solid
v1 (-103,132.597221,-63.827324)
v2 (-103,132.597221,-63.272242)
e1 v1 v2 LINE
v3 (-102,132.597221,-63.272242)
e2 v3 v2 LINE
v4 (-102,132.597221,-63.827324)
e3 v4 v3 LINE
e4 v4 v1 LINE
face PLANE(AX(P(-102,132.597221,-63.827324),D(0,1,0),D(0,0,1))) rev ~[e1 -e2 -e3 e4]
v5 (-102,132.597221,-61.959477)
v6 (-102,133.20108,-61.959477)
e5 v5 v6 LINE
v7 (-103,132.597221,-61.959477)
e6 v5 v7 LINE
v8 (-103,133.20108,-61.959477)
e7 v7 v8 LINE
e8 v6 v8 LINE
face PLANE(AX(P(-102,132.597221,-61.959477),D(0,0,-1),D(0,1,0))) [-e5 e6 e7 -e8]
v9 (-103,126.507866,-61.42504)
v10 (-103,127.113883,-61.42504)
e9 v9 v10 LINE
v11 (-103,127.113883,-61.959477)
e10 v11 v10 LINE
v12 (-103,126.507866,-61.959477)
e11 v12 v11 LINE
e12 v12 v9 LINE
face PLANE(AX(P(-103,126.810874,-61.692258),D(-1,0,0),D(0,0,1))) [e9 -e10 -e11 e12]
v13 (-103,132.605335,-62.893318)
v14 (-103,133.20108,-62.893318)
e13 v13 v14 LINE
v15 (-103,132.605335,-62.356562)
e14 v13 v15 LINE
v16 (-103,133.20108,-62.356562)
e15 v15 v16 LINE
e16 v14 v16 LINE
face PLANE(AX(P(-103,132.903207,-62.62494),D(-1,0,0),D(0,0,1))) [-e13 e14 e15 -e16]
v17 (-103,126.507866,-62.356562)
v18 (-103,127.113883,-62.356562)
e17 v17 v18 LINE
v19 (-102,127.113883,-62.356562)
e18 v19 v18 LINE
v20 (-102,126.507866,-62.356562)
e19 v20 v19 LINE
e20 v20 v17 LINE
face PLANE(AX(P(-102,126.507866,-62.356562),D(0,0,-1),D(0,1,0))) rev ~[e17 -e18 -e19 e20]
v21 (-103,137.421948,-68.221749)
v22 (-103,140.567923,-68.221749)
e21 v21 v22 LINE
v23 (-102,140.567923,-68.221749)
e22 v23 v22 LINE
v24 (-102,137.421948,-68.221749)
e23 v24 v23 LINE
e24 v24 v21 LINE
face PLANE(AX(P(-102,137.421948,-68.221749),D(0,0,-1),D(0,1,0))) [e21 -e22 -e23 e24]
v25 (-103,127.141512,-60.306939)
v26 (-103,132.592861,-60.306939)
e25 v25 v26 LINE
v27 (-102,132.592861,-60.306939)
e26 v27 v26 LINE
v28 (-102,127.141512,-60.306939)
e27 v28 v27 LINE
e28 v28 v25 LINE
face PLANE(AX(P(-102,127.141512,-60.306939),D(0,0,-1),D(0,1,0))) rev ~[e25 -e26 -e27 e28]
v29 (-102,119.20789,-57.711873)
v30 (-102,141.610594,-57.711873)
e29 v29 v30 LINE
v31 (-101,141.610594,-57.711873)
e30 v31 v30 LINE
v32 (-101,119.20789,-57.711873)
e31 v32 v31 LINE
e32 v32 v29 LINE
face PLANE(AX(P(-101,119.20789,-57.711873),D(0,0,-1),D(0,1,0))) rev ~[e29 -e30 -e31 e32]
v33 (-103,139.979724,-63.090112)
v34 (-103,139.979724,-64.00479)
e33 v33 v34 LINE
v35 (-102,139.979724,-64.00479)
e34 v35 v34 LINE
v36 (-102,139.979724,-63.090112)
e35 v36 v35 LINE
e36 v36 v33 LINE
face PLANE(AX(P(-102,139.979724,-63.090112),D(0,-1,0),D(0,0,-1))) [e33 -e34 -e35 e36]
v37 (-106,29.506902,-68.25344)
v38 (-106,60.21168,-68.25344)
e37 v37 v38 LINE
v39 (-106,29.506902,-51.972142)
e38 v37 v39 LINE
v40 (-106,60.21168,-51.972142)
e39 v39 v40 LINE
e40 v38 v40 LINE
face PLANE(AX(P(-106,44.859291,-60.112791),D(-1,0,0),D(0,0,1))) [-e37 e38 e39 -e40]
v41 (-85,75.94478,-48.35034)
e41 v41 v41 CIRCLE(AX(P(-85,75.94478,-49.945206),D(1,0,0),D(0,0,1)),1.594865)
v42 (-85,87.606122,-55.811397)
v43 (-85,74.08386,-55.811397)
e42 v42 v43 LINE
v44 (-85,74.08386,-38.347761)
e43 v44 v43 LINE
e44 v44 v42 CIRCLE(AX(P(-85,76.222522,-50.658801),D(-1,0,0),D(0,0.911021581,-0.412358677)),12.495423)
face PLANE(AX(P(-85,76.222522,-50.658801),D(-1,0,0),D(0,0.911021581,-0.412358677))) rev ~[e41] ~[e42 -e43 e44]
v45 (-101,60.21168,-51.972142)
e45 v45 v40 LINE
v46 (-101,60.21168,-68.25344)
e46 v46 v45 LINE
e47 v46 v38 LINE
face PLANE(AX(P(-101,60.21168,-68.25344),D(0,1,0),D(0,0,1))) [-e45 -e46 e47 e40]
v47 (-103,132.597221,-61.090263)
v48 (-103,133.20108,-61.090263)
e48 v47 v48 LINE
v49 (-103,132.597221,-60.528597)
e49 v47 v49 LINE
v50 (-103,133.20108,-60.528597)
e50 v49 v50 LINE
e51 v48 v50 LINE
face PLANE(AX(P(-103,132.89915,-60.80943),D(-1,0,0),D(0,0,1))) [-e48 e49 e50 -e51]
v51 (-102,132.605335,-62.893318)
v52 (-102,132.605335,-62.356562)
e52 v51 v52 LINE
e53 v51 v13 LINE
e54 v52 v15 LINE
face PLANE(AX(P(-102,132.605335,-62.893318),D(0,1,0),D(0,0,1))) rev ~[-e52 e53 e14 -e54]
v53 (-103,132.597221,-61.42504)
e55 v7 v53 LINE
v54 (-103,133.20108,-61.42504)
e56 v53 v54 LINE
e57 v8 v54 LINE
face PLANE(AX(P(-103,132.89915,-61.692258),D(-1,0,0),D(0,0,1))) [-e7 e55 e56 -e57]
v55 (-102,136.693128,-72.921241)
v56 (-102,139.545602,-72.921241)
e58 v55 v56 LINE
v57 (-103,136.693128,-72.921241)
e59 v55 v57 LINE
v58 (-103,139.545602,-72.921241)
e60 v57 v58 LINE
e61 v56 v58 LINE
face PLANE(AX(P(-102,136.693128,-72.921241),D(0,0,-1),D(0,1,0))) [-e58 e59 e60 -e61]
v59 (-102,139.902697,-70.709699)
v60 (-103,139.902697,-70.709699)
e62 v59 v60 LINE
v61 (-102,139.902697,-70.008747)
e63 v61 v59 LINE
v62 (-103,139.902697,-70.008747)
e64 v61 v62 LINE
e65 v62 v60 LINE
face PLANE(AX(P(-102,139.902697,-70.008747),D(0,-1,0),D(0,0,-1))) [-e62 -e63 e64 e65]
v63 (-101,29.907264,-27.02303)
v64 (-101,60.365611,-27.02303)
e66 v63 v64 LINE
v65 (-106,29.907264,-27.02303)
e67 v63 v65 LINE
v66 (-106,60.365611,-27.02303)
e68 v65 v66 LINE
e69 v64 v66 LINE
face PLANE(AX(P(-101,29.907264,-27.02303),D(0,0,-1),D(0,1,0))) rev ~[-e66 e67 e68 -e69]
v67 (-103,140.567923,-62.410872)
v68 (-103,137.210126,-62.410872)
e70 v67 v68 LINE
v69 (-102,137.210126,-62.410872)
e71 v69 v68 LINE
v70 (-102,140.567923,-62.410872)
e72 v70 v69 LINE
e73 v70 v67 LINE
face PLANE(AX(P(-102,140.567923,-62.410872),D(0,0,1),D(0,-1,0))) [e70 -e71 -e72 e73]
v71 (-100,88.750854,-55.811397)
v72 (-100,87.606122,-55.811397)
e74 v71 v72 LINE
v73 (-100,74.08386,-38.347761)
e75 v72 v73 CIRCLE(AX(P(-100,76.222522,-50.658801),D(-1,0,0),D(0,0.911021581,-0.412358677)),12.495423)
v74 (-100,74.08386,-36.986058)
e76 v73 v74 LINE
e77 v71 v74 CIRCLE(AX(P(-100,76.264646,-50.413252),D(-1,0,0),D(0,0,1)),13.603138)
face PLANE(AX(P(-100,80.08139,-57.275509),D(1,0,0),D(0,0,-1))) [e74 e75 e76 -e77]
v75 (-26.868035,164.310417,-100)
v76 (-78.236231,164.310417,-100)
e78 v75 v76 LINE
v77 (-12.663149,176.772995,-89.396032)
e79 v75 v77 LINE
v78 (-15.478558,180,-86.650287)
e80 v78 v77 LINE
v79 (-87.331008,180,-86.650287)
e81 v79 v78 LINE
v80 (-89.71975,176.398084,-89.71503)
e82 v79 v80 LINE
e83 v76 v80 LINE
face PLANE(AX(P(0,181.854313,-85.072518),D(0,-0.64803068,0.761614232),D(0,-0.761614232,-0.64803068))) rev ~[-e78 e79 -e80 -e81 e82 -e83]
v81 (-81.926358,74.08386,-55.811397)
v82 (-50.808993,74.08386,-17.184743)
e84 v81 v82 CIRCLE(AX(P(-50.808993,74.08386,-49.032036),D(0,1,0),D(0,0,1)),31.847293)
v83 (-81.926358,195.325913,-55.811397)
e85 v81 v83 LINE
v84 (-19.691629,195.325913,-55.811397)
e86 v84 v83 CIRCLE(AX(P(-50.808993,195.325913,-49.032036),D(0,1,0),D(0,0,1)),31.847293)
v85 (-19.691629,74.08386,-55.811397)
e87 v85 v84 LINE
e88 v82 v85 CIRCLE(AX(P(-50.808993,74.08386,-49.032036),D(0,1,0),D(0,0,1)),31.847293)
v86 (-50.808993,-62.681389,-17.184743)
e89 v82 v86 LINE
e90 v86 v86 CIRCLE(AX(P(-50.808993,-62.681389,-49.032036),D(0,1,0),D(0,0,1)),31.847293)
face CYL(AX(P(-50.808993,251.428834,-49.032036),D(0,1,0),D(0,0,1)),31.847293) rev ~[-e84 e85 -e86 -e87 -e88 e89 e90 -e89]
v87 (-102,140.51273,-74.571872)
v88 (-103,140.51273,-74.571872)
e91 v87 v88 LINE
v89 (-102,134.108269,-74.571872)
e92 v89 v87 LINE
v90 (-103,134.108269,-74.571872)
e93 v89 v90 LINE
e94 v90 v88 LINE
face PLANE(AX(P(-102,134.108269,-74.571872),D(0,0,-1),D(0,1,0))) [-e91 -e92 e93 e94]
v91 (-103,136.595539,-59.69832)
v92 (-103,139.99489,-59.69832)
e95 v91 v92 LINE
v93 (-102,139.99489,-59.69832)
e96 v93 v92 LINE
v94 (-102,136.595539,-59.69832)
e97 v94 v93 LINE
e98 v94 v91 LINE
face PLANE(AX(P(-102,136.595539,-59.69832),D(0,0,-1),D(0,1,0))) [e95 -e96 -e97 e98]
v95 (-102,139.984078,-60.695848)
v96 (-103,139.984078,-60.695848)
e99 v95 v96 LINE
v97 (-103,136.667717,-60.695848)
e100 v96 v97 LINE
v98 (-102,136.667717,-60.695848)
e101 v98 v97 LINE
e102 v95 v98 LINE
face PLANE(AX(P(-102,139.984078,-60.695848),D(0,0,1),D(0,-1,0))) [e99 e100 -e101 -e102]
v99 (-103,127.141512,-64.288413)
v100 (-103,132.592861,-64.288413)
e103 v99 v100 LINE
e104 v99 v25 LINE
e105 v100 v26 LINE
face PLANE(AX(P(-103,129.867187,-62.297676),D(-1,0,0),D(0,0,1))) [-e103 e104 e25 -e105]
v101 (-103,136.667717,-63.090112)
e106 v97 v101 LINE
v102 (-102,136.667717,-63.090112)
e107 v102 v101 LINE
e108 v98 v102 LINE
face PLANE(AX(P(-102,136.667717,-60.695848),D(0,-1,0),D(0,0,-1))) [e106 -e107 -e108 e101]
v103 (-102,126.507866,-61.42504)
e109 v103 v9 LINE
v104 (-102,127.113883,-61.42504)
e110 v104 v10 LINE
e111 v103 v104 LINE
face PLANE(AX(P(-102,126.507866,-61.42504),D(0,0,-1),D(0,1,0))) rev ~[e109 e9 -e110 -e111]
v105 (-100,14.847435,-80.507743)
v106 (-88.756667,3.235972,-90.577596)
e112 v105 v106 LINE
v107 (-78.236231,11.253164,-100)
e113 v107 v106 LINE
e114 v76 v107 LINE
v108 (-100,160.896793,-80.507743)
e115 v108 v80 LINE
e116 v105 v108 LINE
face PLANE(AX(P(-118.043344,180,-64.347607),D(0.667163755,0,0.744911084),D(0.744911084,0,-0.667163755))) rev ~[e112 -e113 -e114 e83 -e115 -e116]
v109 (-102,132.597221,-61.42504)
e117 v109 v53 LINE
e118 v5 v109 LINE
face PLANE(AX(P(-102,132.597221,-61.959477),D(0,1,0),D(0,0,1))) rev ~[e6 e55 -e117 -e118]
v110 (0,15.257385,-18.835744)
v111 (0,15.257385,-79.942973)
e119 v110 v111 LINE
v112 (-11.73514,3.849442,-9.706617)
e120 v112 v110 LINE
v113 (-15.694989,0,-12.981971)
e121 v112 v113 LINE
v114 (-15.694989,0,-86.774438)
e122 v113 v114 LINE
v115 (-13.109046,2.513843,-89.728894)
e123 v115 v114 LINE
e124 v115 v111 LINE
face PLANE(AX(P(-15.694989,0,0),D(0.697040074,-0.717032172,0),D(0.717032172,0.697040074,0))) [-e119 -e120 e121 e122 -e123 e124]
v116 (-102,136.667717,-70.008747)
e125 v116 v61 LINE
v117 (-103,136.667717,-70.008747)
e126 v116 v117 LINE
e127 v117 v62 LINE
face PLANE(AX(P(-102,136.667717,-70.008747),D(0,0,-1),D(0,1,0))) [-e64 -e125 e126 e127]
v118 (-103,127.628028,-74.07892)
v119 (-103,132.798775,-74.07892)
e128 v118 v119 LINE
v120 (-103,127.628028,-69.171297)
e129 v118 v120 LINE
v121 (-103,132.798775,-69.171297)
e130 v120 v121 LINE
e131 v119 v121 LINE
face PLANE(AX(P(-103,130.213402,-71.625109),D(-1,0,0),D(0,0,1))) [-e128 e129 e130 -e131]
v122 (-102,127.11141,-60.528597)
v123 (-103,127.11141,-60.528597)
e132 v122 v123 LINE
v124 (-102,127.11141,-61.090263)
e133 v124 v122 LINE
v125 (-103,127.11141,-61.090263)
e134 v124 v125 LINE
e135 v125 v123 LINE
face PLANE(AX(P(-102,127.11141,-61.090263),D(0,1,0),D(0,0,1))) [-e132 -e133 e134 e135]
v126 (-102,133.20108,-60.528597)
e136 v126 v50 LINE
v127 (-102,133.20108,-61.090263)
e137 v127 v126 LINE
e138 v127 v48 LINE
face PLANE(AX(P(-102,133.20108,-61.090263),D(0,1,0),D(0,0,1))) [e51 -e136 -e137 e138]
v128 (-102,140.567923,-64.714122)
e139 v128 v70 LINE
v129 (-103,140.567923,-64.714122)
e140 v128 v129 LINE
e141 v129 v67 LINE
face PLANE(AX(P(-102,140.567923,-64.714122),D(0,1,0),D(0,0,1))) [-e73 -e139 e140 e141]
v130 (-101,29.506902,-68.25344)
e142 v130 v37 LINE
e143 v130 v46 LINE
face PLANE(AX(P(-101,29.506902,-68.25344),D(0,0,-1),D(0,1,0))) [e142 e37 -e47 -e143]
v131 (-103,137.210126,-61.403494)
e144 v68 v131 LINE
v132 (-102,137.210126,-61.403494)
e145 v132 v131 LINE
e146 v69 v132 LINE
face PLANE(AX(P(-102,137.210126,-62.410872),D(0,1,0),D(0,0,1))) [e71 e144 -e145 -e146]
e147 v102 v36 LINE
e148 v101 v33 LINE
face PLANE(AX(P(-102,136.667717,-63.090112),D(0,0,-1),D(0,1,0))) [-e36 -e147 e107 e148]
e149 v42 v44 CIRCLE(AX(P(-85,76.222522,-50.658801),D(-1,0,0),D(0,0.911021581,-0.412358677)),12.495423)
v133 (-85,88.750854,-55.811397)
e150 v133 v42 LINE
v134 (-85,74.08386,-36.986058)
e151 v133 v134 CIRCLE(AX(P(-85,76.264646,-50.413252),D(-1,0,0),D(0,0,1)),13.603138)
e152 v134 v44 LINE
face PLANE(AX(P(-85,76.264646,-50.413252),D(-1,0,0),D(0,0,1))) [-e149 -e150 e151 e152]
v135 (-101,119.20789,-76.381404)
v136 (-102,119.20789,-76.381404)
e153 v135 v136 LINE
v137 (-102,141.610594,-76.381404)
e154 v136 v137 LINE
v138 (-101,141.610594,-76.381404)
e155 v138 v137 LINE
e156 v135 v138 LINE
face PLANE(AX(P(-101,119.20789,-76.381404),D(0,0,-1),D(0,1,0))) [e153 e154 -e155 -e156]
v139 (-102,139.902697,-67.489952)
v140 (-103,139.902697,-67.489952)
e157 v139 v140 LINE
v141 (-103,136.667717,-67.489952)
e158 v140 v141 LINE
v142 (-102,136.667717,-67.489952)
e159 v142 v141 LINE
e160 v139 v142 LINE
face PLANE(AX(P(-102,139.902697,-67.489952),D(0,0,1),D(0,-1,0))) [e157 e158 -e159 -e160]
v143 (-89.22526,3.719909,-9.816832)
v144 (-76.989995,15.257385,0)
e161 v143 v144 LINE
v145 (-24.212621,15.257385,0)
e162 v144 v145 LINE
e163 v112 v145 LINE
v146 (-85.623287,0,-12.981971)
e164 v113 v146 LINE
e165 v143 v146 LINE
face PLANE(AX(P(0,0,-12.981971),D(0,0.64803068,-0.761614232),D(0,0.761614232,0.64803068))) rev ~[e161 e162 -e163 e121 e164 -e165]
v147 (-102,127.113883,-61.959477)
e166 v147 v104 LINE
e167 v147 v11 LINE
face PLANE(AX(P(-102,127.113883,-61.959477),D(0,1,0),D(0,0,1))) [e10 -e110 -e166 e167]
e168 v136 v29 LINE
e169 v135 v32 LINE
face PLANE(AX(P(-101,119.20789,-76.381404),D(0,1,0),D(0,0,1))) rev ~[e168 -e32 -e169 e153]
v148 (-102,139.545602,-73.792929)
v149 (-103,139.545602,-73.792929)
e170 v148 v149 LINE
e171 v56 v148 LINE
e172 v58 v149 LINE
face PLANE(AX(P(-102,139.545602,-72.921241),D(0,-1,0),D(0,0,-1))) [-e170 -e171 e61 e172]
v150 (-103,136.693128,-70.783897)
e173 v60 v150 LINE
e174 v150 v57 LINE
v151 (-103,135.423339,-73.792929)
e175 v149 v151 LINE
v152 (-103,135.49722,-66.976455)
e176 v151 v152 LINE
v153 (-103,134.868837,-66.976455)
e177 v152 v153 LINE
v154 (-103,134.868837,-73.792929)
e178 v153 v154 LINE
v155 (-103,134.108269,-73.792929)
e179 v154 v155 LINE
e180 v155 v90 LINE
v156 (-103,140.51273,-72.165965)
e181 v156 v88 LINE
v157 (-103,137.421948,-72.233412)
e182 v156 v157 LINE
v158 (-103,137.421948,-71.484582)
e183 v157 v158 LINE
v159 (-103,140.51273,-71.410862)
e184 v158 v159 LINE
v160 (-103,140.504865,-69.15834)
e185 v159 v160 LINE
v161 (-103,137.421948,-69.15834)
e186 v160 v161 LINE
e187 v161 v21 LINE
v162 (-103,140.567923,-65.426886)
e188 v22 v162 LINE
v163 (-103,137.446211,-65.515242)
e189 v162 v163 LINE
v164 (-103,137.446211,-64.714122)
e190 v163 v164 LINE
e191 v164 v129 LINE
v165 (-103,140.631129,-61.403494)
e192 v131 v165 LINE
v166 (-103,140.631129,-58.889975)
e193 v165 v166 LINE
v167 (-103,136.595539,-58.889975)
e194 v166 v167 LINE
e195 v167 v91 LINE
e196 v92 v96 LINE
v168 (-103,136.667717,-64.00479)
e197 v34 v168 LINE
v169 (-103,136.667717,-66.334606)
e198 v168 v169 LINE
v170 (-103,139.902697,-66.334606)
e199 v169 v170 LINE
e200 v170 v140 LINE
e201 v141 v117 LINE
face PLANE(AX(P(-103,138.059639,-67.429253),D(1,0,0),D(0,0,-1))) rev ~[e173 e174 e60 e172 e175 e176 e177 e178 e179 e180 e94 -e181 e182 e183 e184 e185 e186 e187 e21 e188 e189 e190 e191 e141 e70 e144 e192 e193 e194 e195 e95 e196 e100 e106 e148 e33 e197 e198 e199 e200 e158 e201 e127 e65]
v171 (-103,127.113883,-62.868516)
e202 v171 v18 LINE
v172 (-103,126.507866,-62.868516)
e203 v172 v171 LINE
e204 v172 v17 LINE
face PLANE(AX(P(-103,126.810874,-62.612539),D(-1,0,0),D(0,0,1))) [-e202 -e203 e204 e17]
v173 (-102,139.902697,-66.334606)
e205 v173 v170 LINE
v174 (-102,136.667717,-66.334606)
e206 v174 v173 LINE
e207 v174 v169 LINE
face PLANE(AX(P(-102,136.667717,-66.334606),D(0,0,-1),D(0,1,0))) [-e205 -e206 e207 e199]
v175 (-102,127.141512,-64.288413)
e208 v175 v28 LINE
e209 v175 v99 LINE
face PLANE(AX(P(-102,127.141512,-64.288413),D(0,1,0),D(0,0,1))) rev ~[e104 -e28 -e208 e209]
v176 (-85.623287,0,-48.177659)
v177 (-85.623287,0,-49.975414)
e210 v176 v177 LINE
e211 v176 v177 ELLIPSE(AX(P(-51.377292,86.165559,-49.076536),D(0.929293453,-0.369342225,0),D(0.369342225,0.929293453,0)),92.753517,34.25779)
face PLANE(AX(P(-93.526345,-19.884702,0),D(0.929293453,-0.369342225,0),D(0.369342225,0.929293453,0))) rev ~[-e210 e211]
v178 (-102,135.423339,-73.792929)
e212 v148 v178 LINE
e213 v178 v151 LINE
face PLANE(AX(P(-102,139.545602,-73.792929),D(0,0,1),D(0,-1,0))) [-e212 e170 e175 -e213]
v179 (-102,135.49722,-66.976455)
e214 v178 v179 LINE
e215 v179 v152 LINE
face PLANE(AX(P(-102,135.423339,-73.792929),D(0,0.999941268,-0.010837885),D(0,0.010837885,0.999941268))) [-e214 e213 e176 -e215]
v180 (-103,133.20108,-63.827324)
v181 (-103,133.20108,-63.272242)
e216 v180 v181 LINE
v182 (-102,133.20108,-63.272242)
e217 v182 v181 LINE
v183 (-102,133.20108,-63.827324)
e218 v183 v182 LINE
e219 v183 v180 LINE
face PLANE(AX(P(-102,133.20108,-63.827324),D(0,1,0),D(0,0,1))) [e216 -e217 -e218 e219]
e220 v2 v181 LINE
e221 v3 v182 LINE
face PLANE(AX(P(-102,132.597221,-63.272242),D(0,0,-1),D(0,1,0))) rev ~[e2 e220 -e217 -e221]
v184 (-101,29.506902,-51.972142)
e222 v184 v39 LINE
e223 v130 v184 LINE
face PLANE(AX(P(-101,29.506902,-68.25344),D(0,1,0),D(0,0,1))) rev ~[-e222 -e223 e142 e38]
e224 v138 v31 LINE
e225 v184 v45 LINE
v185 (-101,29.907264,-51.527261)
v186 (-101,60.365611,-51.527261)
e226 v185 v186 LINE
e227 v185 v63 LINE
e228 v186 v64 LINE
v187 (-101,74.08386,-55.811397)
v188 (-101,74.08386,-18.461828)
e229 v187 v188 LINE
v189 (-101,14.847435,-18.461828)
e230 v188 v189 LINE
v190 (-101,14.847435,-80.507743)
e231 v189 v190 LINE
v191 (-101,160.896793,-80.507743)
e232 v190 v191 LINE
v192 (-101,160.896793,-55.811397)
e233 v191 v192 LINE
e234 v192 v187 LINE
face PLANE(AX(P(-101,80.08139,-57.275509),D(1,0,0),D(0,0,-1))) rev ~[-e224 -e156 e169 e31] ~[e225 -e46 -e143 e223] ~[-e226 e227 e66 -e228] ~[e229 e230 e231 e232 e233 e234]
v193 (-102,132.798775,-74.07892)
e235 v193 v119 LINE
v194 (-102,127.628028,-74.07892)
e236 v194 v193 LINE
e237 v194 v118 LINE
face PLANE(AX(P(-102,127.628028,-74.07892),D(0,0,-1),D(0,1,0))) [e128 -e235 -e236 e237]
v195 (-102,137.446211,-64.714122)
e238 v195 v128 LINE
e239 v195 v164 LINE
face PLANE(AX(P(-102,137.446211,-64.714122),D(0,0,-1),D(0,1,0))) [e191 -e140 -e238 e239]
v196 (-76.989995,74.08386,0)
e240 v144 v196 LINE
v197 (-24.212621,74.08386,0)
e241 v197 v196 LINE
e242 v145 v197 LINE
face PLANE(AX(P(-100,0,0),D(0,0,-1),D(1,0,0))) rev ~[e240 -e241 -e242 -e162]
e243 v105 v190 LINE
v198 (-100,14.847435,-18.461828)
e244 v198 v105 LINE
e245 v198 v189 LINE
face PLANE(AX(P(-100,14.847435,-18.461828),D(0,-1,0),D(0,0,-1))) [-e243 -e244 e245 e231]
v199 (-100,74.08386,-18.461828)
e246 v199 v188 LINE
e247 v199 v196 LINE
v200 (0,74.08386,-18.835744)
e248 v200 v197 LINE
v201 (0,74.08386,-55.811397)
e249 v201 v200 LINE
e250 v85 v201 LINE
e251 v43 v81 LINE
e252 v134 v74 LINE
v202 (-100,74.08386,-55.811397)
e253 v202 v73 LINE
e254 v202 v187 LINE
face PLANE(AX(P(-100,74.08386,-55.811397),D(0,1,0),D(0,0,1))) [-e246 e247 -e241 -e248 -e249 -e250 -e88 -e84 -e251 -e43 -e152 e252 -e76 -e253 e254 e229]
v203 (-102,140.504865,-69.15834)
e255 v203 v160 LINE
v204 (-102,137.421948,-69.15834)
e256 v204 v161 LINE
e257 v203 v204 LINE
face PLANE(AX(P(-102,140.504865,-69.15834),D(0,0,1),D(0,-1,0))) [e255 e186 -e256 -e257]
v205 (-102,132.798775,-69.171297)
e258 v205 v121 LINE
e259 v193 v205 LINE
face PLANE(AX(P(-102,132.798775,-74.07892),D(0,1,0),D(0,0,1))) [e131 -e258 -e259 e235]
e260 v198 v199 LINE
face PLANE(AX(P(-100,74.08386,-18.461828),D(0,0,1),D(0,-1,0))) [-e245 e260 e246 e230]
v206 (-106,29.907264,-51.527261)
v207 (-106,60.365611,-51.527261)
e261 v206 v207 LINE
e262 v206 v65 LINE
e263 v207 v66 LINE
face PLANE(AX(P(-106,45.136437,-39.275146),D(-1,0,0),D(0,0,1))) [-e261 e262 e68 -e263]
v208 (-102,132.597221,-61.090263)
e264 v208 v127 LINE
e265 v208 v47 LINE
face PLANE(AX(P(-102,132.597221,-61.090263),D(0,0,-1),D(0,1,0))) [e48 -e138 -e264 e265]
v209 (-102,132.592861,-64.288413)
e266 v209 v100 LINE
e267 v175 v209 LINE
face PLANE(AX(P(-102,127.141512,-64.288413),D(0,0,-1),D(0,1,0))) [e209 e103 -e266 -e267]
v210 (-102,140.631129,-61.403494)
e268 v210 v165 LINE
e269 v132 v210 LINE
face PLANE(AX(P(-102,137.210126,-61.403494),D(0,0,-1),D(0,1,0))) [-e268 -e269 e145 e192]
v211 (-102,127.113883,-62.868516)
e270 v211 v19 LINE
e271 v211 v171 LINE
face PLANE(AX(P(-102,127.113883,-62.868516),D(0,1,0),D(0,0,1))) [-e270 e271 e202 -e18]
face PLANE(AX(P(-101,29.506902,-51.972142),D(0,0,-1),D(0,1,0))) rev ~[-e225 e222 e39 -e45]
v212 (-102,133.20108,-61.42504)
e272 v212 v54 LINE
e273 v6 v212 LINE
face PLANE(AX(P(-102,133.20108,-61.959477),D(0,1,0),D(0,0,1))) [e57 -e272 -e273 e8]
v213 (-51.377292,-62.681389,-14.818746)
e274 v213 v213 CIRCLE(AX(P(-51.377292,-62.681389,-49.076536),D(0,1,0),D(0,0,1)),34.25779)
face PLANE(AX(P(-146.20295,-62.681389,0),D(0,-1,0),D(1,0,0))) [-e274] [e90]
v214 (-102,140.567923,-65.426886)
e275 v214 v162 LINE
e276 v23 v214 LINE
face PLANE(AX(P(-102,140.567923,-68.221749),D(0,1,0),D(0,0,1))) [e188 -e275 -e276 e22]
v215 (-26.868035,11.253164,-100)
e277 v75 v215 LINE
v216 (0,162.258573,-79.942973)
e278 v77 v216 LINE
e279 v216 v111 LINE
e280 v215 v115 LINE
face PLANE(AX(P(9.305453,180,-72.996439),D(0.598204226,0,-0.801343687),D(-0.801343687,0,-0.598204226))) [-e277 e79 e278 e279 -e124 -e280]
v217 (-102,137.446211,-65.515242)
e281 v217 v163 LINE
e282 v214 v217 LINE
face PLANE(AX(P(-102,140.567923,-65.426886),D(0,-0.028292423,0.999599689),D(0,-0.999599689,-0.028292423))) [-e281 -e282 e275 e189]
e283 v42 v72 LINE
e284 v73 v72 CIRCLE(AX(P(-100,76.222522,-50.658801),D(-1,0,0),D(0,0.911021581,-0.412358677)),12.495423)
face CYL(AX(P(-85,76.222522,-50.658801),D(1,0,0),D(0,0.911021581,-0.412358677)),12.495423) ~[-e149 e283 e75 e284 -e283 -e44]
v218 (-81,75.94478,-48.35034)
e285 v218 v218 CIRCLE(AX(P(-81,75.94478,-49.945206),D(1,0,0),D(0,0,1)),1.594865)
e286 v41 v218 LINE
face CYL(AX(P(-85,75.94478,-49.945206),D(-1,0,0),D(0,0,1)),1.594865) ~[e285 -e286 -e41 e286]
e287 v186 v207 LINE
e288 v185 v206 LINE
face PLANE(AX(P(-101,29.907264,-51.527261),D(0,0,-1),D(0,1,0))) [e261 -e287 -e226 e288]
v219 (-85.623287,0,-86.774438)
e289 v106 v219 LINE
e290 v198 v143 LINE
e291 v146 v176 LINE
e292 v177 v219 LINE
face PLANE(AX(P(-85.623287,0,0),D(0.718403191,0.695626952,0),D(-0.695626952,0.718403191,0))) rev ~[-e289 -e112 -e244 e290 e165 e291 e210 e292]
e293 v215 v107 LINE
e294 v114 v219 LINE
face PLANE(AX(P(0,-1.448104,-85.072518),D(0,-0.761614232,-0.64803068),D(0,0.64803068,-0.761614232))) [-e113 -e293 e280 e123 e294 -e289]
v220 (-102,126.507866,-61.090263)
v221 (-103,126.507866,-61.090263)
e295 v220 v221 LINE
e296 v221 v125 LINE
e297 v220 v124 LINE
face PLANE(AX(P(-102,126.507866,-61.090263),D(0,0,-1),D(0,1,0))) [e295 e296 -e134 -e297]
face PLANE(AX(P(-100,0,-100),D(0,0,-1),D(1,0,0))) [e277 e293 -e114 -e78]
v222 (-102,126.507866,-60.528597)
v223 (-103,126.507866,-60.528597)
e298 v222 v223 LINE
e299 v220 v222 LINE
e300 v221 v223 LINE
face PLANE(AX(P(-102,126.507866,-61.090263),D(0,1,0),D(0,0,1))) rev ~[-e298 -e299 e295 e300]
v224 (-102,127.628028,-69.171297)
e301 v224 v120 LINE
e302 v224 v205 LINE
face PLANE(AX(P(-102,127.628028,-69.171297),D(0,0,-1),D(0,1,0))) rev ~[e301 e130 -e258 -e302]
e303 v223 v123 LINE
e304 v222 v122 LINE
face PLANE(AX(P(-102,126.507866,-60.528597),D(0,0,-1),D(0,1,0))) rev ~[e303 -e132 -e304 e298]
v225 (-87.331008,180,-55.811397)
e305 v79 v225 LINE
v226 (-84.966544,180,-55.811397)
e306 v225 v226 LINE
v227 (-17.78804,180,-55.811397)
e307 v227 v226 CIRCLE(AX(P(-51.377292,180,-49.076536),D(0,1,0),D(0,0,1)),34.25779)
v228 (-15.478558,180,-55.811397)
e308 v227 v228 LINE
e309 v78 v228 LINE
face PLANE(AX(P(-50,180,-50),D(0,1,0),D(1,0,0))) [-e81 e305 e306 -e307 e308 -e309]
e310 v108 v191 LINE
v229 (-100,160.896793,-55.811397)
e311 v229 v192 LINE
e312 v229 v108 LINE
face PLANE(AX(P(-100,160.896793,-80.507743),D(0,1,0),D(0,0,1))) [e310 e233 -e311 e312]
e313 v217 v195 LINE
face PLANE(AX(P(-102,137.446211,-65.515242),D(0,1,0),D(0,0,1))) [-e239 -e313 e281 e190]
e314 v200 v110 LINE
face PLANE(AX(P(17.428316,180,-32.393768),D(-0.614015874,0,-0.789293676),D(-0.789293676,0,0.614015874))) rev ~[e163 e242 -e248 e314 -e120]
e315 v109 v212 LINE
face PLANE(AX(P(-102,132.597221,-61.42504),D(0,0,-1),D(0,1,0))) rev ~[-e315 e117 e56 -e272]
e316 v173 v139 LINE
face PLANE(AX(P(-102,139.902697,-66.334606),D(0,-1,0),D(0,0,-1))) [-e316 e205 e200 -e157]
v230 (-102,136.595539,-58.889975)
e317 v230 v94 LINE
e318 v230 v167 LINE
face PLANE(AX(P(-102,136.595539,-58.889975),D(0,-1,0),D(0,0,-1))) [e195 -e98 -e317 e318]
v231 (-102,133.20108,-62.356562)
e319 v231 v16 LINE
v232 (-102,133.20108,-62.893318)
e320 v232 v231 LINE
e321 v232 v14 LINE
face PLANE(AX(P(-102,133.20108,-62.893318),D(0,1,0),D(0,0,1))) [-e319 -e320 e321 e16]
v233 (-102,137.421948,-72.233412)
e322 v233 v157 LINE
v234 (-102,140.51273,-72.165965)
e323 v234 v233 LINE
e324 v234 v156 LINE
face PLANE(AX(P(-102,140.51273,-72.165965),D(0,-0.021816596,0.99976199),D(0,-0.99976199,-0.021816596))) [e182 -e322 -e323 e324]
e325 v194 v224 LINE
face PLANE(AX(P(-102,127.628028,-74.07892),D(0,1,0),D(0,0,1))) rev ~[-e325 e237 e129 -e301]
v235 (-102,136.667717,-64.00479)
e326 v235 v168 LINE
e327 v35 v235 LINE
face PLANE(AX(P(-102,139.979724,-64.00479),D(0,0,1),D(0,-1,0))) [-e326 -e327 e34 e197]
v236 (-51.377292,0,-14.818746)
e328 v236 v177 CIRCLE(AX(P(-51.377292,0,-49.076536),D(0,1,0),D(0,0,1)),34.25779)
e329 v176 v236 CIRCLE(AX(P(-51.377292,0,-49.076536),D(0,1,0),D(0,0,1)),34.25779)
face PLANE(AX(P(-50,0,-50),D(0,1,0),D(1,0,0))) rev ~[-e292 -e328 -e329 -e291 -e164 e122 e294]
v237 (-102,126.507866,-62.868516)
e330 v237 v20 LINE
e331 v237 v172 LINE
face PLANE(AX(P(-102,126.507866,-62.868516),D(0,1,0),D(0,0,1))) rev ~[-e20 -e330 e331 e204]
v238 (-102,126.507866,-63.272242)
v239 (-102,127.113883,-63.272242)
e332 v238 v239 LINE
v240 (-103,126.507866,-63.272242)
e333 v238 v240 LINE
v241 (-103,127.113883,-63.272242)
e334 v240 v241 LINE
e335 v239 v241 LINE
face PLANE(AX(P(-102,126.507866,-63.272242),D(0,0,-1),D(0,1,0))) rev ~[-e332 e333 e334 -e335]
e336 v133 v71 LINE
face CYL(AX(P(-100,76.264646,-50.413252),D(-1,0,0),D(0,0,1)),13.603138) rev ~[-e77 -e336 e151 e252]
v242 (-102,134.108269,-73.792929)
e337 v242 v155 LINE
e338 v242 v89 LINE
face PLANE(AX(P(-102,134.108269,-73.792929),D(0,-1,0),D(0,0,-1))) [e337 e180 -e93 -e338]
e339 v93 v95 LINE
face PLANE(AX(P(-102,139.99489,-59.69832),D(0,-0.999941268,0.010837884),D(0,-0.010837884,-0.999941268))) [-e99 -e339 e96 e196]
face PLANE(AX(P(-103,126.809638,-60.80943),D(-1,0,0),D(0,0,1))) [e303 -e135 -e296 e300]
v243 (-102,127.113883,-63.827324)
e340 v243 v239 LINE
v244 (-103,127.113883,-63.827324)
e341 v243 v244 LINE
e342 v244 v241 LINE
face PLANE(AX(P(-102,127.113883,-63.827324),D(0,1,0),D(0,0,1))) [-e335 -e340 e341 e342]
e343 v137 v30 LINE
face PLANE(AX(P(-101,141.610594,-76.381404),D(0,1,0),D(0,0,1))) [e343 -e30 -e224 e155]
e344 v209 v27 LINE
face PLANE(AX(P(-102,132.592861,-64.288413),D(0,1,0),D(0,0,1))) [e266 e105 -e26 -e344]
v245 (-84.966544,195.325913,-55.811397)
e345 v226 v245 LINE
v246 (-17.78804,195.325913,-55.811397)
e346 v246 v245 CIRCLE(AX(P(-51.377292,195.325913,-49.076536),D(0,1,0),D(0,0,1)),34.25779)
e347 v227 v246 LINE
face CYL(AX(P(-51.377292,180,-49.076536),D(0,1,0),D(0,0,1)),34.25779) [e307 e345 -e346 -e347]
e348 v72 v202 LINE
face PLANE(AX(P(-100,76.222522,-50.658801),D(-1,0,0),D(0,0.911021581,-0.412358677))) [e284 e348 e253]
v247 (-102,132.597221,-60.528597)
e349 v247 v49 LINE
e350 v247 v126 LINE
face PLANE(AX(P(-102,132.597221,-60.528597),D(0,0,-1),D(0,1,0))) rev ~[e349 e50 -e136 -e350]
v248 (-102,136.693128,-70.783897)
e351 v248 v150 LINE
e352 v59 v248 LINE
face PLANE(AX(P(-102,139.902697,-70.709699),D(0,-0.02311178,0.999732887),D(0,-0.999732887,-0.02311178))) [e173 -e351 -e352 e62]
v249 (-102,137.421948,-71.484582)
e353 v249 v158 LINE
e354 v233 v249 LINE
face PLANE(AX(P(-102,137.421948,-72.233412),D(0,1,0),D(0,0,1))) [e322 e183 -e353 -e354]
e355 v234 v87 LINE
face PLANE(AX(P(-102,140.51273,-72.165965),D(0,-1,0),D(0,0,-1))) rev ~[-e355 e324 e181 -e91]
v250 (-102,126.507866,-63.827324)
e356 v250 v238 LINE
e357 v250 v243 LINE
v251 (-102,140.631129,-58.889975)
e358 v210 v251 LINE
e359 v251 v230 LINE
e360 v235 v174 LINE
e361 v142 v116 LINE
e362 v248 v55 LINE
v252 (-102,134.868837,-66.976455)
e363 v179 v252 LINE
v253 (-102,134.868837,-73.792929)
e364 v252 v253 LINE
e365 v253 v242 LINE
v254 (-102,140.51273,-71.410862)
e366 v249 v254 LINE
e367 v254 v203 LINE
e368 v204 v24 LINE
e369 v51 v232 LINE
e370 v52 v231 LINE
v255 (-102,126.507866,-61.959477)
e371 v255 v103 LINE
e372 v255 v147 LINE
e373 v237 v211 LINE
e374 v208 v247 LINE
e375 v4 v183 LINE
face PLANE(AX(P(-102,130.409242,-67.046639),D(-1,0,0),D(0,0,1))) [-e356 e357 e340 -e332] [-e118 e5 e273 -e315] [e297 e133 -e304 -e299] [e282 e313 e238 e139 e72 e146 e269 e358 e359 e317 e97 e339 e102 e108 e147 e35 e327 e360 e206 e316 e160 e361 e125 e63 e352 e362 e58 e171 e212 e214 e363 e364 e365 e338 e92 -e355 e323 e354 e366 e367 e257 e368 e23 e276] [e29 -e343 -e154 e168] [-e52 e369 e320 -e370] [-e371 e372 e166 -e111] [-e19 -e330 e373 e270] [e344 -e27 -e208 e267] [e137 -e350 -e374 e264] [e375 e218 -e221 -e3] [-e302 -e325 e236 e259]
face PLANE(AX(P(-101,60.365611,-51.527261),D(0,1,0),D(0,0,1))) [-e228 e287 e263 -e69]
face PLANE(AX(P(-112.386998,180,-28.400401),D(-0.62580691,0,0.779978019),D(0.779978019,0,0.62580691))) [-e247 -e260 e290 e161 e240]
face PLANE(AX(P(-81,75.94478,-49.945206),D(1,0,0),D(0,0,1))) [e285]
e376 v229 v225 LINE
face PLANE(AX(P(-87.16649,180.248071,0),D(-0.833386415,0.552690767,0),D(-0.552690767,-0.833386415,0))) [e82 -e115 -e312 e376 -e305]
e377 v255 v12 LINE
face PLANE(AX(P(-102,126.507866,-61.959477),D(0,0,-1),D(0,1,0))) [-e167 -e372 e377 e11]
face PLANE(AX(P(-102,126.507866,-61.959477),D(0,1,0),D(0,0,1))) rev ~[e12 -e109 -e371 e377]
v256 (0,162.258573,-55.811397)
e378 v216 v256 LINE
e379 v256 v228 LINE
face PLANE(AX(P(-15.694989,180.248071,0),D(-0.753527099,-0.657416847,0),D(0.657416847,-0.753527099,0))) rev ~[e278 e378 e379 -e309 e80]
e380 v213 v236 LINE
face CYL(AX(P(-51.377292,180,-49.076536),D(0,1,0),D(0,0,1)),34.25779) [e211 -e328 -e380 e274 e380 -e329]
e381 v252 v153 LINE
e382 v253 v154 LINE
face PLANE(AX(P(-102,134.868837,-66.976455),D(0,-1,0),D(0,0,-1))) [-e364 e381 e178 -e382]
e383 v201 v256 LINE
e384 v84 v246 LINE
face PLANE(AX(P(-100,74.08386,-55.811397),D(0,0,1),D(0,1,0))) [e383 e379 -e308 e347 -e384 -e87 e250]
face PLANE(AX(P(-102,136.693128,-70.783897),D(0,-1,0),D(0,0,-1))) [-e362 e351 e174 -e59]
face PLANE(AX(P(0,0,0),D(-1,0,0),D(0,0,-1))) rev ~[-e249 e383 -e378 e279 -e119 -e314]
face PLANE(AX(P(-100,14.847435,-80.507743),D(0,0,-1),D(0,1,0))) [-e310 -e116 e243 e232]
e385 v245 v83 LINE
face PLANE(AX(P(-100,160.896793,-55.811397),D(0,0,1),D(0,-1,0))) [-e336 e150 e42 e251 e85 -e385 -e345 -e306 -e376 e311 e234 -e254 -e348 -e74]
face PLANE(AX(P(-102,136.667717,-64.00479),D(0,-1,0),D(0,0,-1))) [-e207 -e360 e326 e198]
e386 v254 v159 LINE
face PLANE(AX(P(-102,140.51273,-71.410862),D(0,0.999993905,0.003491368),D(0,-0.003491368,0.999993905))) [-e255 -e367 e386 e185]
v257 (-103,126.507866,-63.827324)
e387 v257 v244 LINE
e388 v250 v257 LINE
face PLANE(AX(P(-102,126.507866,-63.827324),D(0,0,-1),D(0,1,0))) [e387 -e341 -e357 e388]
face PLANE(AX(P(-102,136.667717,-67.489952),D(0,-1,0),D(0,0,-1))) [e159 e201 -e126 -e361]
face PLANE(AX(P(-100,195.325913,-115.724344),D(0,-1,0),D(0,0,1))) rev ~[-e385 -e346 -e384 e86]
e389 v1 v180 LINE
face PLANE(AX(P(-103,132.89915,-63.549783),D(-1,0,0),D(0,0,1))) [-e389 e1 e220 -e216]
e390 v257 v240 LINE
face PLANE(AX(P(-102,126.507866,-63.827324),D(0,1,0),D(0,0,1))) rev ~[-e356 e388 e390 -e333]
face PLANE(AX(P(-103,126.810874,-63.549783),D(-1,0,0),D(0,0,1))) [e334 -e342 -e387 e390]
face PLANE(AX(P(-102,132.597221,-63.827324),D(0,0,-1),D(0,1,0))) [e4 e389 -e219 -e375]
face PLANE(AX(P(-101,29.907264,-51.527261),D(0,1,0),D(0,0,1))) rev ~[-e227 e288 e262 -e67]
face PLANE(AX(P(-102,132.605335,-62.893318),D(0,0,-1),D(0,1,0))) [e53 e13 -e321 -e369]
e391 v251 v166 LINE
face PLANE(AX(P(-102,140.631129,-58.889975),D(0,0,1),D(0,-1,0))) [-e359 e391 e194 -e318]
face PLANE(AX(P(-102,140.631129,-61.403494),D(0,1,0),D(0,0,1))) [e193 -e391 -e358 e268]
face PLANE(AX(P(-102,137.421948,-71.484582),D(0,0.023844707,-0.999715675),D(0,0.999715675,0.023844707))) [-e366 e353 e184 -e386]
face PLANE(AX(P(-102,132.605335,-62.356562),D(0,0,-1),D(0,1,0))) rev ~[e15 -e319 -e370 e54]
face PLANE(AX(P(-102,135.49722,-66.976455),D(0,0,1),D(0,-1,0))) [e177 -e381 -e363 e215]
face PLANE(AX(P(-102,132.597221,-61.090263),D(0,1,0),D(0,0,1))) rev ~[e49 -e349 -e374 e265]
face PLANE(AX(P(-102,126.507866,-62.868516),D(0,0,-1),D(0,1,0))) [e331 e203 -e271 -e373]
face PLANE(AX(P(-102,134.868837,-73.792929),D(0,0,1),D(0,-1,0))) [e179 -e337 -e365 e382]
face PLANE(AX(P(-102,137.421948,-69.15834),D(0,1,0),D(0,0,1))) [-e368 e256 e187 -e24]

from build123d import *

# Parameters (mm, degrees)
SKETCH1_W            = 100
SKETCH1_H            = 100
BOSS_EXTRUDE1_DEPTH  = 180
SKETCH2_R            = 34.257790197
BOSS_EXTRUDE2_DEPTH  = 350
SKETCH3_W            = 152.006357392
SKETCH3_H            = 282.452416457
CUT_EXTRUDE2_DEPTH   = 400
CUT_EXTRUDE3_DEPTH   = 400
CUT_EXTRUDE4_DEPTH   = 400
CUT_EXTRUDE5_DEPTH   = 400
SKETCH7_W            = 160.159381639
SKETCH7_H            = 147.362276113
CUT_EXTRUDE6_DEPTH   = 400
SKETCH8_W            = 147.310744502
SKETCH8_H            = 162.038906966
CUT_EXTRUDE7_DEPTH   = 400
SKETCH9_R            = 31.847293423
CUT_EXTRUDE8_DEPTH   = 400
SKETCH10_W           = 140.220962397
SKETCH10_H           = 212.033531124
CUT_EXTRUDE9_DEPTH   = 400
SKETCH11_R           = 13.603137886
CUT_EXTRUDE11_DEPTH  = 15
SKETCH12_R           = 12.495422516
BOSS_EXTRUDE3_DEPTH  = 15
SKETCH13_R           = 1.594865099
BOSS_EXTRUDE4_DEPTH  = 4
SKETCH14_W           = 100.74862993
SKETCH14_H           = 110.555003588
CUT_EXTRUDE13_DEPTH  = 400
BOSS_EXTRUDE5_DEPTH  = 1
SKETCH16_W           = 24.504230724
SKETCH16_H           = 30.458347221
BOSS_EXTRUDE6_DEPTH  = 5
SKETCH17_W           = 18.669530869
SKETCH17_H           = 22.4027039
BOSS_EXTRUDE7_DEPTH  = 1
SKETCH18_W           = 4.907623399
SKETCH18_H           = 5.170746831
SKETCH18_W_2         = 3.981473695
SKETCH18_H_2         = 5.451349552
BOSS_EXTRUDE8_DEPTH  = 1
BOSS_EXTRUDE9_DEPTH  = 1
SKETCH21_W           = 16.281298494
SKETCH21_H           = 30.70477752
BOSS_EXTRUDE10_DEPTH = 5
SKETCH22_W           = 0.561666562
SKETCH22_H           = 0.603858724
SKETCH22_W_2         = 0.53443704
SKETCH22_W_3         = 0.536755884
SKETCH22_H_2         = 0.595744993
SKETCH22_W_4         = 0.555081497
SKETCH22_H_3         = 0.603543747
SKETCH22_H_4         = 0.606016701
SKETCH22_W_5         = 0.51195437
BOSS_EXTRUDE11_DEPTH = 1


with BuildPart() as part:
    # Sketch1 → Boss-Extrude1 (new body)
    with BuildSketch(Plane(origin=(0, 0, 0), x_dir=(1, 0, 0), z_dir=(0, 1, 0))):
        with Locations((-50, 50)):
            Rectangle(SKETCH1_W, SKETCH1_H)
    extrude(amount=BOSS_EXTRUDE1_DEPTH)

    # Sketch2 → Boss-Extrude2 (add, symmetric)
    with BuildSketch(Plane(origin=(0, 180, 0), x_dir=(1, 0, 0), z_dir=(0, 1, 0))):
        with Locations(Location((-51.377291833, 49.076536384, 0), (0, 0, 270))):
            Circle(SKETCH2_R)
    extrude(amount=BOSS_EXTRUDE2_DEPTH, both=True)

    # Sketch3 → Cut-Extrude2 (cut)
    with BuildSketch(Plane(origin=(0, 0, 0), x_dir=(0, 0, -1), z_dir=(1, 0, 0))):
        with Locations((57.419900112, 502.274302507)):
            Rectangle(SKETCH3_W, SKETCH3_H)
    extrude(amount=-CUT_EXTRUDE2_DEPTH, mode=Mode.SUBTRACT)

    # Sketch4 → Cut-Extrude3 (cut)
    with BuildSketch(Plane(origin=(0, 0, 0), x_dir=(0, 0, -1), z_dir=(1, 0, 0))):
        Polygon((12.981970869, 0), (-8.994244796, 25.828096003), (-18.564506014, -15.259465835), align=None)
        Polygon((85.072517936, -1.448103984), (109.237639161, 19.113145112), (115.920034239, -3.267382694), align=None)
        Polygon((12.981970869, 180), (-8.994244796, 148.537596011), (-15.418178585, 193.219274892), align=None)
        Polygon((85.072517936, 181.854312784), (103.841225373, 159.795920888), (106.132549481, 198.647393934), align=None)
    extrude(amount=-CUT_EXTRUDE3_DEPTH, mode=Mode.SUBTRACT)

    # Sketch5 → Cut-Extrude4 (cut)
    with BuildSketch(Plane.XY):
        Polygon((-85.623287335, 0), (-106.370377984, 21.426392531), (-122.288861874, 3.209259887), (-93.526345261, -19.884701759), align=None)
        Polygon((-15.694988751, 0), (0, 15.257385304), (12.122677088, 15.257385304), (10.563067769, -19.884701759), align=None)
        Polygon((-87.166490339, 180.248071029), (-106.370377984, 151.29108453), (-117.705469457, 200.501115102), align=None)
        Polygon((-15.694988751, 180.248071029), (7.833767065, 153.279557508), (0, 193.941208308), align=None)
    extrude(amount=-CUT_EXTRUDE4_DEPTH, mode=Mode.SUBTRACT)

    # Sketch6 → Cut-Extrude5 (cut)
    with BuildSketch(Plane(origin=(0, 180, 0), x_dir=(1, 0, 0), z_dir=(0, 1, 0))):
        Polygon((-112.386997555, 28.400400964), (-64.261264503, -10.212759359), (-84.406366528, -15.51192827), (-124.649689542, -15.51192827), align=None)
        Polygon((-97.065537028, 135.861756084), (-119.37552445, 77.792688888), (-118.043343626, 64.347606737), (-66.428694172, 110.575168787), align=None)
        Polygon((-24.69640689, -21.815840769), (11.092108798, -8.97361337), (17.428316417, 32.393768119), (-38.531576846, -11.139157378), align=None)
        Polygon((-17.445484601, 140.804394854), (35.417473102, 107.262520599), (9.305452855, 72.996438725), (-31.724385352, 103.625272537), align=None)
    extrude(amount=-CUT_EXTRUDE5_DEPTH, mode=Mode.SUBTRACT)

    # Sketch7 → Cut-Extrude6 (cut)
    with BuildSketch(Plane.XY):
        with Locations((-66.123258915, -136.36252694)):
            Rectangle(SKETCH7_W, SKETCH7_H)
    extrude(amount=-CUT_EXTRUDE6_DEPTH, mode=Mode.SUBTRACT)

    # Sketch8 → Cut-Extrude7 (cut)
    with BuildSketch(Plane.XY):
        with Locations((-53.541153336, 332.448287589)):
            Rectangle(SKETCH8_W, SKETCH8_H)
    extrude(amount=-CUT_EXTRUDE7_DEPTH, mode=Mode.SUBTRACT)

    # Sketch9 → Cut-Extrude8 (cut)
    with BuildSketch(Plane(origin=(0, 251.428834106, 0), x_dir=(1, 0, 0), z_dir=(0, 1, 0))):
        with Locations(Location((-50.808993157, 49.032036374, 0), (0, 0, 270))):
            Circle(SKETCH9_R)
    extrude(amount=-CUT_EXTRUDE8_DEPTH, mode=Mode.SUBTRACT)

    # Sketch10 → Cut-Extrude9 (cut)
    with BuildSketch(Plane.ZY.offset(100)):
        with Locations((14.299084536, 180.100625535)):
            Rectangle(SKETCH10_W, SKETCH10_H)
    extrude(amount=-CUT_EXTRUDE9_DEPTH, mode=Mode.SUBTRACT)

    # Sketch11 → Cut-Extrude11 (cut)
    with BuildSketch(Plane.ZY.offset(100)):
        with Locations((-50.413251954, 76.264646142)):
            Circle(SKETCH11_R)
    extrude(amount=-CUT_EXTRUDE11_DEPTH, mode=Mode.SUBTRACT)

    # Sketch12 → Boss-Extrude3 (add)
    with BuildSketch(Plane.ZY.offset(85)):
        with Locations(Location((-50.658800768, 76.222522328, 0), (0, 0, 114.353089558))):
            Circle(SKETCH12_R)
    extrude(amount=BOSS_EXTRUDE3_DEPTH)

    # Sketch13 → Boss-Extrude4 (add)
    with BuildSketch(Plane(origin=(-85, 0, 0), x_dir=(0, 0, -1), z_dir=(1, 0, 0))):
        with Locations(Location((49.945205578, 75.944780088, 0), (0, 0, 180))):
            Circle(SKETCH13_R)
    extrude(amount=BOSS_EXTRUDE4_DEPTH)

    # Sketch14 → Cut-Extrude13 (cut)
    with BuildSketch(Plane.ZY.offset(100)):
        with Locations((-65.350029467, 250.603414818)):
            Rectangle(SKETCH14_W, SKETCH14_H)
    extrude(amount=-CUT_EXTRUDE13_DEPTH, mode=Mode.SUBTRACT)

    # Sketch15 → Boss-Extrude5 (add)
    with BuildSketch(Plane.ZY.offset(100)):
        Polygon((-18.461827727, 14.847435435), (-80.507743362, 14.847435435), (-80.507743362, 160.896793159), (-55.811396663, 160.896793159), (-55.811396663, 74.083859973), (-18.461827727, 74.083859973), align=None)
    extrude(amount=BOSS_EXTRUDE5_DEPTH)

    # Sketch16 → Boss-Extrude6 (add)
    with BuildSketch(Plane.ZY.offset(101)):
        with Locations((-39.275145749, 45.136437142)):
            Rectangle(SKETCH16_W, SKETCH16_H)
    extrude(amount=BOSS_EXTRUDE6_DEPTH)

    # Sketch17 → Boss-Extrude7 (add)
    with BuildSketch(Plane.ZY.offset(101)):
        with Locations((-67.04663872, 130.409241603)):
            Rectangle(SKETCH17_W, SKETCH17_H)
    extrude(amount=BOSS_EXTRUDE7_DEPTH)

    # Sketch18 → Boss-Extrude8 (add)
    with BuildSketch(Plane.ZY.offset(102)):
        with Locations((-71.625108618, 130.213401885)):
            Rectangle(SKETCH18_W, SKETCH18_H)
        with Locations((-62.297675883, 129.867186512)):
            Rectangle(SKETCH18_W_2, SKETCH18_H_2)
    extrude(amount=BOSS_EXTRUDE8_DEPTH)

    # Sketch19 → Boss-Extrude9 (add)
    with BuildSketch(Plane.ZY.offset(102)):
        Polygon((-66.976455081, 134.868836652), (-73.7929295, 134.868836652), (-73.7929295, 134.108269479), (-74.571872104, 134.108269479), (-74.571872104, 140.512729543), (-73.7929295, 140.512729543), (-72.165965418, 140.512729543), (-72.233411796, 137.421948277), (-71.48458153, 137.421948277), (-71.410861795, 140.512729543), (-69.158339735, 140.504865112), (-69.158339735, 137.421948277), (-68.22174926, 137.421948277), (-68.22174926, 140.567922793), (-65.426885805, 140.567922793), (-65.515241968, 137.446210948), (-64.714122339, 137.446210948), (-64.714122339, 140.567922793), (-62.410871788, 140.567922793), (-62.410871788, 137.210126003), (-61.403493639, 137.210126003), (-61.403493639, 140.631129361), (-58.889974549, 140.631129361), (-58.889974549, 136.595539338), (-59.698319644, 136.595539338), (-59.698319644, 139.99489006), (-60.695848378, 139.984078324), (-60.695848378, 136.667717235), (-63.090112056, 136.667717235), (-63.090112056, 139.979723883), (-64.00479018, 139.979723883), (-64.00479018, 136.667717235), (-66.334605538, 136.667717235), (-66.334605538, 139.902697072), (-67.48995239, 139.902697072), (-67.48995239, 136.667717235), (-70.008746759, 136.667717235), (-70.008746759, 139.902697072), (-70.709698815, 139.902697072), (-70.783897489, 136.693128041), (-72.921241048, 136.693128041), (-72.921241048, 139.545601992), (-73.7929295, 139.545601992), (-73.7929295, 135.423339258), (-66.976455081, 135.49721976), align=None)
    extrude(amount=BOSS_EXTRUDE9_DEPTH)

    # Sketch21 → Boss-Extrude10 (add)
    with BuildSketch(Plane.ZY.offset(101)):
        with Locations((-60.112791098, 44.859291254)):
            Rectangle(SKETCH21_W, SKETCH21_H)
    extrude(amount=BOSS_EXTRUDE10_DEPTH)

    # Sketch22 → Boss-Extrude11 (add)
    with BuildSketch(Plane.ZY.offset(102)):
        with Locations((-60.80943011, 132.899150377)):
            Rectangle(SKETCH22_W, SKETCH22_H)
        with Locations((-61.69225831, 132.899150377)):
            Rectangle(SKETCH22_W_2, SKETCH22_H)
        with Locations((-62.62493976, 132.903207243)):
            Rectangle(SKETCH22_W_3, SKETCH22_H_2)
        with Locations((-63.54978292, 132.899150377)):
            Rectangle(SKETCH22_W_4, SKETCH22_H)
        with Locations((-60.80943011, 126.809637752)):
            Rectangle(SKETCH22_W, SKETCH22_H_3)
        with Locations((-61.69225831, 126.810874229)):
            Rectangle(SKETCH22_W_2, SKETCH22_H_4)
        with Locations((-62.612539003, 126.810874229)):
            Rectangle(SKETCH22_W_5, SKETCH22_H_4)
        with Locations((-63.54978292, 126.810874229)):
            Rectangle(SKETCH22_W_4, SKETCH22_H_4)
    extrude(amount=BOSS_EXTRUDE11_DEPTH)


solid = part.part
